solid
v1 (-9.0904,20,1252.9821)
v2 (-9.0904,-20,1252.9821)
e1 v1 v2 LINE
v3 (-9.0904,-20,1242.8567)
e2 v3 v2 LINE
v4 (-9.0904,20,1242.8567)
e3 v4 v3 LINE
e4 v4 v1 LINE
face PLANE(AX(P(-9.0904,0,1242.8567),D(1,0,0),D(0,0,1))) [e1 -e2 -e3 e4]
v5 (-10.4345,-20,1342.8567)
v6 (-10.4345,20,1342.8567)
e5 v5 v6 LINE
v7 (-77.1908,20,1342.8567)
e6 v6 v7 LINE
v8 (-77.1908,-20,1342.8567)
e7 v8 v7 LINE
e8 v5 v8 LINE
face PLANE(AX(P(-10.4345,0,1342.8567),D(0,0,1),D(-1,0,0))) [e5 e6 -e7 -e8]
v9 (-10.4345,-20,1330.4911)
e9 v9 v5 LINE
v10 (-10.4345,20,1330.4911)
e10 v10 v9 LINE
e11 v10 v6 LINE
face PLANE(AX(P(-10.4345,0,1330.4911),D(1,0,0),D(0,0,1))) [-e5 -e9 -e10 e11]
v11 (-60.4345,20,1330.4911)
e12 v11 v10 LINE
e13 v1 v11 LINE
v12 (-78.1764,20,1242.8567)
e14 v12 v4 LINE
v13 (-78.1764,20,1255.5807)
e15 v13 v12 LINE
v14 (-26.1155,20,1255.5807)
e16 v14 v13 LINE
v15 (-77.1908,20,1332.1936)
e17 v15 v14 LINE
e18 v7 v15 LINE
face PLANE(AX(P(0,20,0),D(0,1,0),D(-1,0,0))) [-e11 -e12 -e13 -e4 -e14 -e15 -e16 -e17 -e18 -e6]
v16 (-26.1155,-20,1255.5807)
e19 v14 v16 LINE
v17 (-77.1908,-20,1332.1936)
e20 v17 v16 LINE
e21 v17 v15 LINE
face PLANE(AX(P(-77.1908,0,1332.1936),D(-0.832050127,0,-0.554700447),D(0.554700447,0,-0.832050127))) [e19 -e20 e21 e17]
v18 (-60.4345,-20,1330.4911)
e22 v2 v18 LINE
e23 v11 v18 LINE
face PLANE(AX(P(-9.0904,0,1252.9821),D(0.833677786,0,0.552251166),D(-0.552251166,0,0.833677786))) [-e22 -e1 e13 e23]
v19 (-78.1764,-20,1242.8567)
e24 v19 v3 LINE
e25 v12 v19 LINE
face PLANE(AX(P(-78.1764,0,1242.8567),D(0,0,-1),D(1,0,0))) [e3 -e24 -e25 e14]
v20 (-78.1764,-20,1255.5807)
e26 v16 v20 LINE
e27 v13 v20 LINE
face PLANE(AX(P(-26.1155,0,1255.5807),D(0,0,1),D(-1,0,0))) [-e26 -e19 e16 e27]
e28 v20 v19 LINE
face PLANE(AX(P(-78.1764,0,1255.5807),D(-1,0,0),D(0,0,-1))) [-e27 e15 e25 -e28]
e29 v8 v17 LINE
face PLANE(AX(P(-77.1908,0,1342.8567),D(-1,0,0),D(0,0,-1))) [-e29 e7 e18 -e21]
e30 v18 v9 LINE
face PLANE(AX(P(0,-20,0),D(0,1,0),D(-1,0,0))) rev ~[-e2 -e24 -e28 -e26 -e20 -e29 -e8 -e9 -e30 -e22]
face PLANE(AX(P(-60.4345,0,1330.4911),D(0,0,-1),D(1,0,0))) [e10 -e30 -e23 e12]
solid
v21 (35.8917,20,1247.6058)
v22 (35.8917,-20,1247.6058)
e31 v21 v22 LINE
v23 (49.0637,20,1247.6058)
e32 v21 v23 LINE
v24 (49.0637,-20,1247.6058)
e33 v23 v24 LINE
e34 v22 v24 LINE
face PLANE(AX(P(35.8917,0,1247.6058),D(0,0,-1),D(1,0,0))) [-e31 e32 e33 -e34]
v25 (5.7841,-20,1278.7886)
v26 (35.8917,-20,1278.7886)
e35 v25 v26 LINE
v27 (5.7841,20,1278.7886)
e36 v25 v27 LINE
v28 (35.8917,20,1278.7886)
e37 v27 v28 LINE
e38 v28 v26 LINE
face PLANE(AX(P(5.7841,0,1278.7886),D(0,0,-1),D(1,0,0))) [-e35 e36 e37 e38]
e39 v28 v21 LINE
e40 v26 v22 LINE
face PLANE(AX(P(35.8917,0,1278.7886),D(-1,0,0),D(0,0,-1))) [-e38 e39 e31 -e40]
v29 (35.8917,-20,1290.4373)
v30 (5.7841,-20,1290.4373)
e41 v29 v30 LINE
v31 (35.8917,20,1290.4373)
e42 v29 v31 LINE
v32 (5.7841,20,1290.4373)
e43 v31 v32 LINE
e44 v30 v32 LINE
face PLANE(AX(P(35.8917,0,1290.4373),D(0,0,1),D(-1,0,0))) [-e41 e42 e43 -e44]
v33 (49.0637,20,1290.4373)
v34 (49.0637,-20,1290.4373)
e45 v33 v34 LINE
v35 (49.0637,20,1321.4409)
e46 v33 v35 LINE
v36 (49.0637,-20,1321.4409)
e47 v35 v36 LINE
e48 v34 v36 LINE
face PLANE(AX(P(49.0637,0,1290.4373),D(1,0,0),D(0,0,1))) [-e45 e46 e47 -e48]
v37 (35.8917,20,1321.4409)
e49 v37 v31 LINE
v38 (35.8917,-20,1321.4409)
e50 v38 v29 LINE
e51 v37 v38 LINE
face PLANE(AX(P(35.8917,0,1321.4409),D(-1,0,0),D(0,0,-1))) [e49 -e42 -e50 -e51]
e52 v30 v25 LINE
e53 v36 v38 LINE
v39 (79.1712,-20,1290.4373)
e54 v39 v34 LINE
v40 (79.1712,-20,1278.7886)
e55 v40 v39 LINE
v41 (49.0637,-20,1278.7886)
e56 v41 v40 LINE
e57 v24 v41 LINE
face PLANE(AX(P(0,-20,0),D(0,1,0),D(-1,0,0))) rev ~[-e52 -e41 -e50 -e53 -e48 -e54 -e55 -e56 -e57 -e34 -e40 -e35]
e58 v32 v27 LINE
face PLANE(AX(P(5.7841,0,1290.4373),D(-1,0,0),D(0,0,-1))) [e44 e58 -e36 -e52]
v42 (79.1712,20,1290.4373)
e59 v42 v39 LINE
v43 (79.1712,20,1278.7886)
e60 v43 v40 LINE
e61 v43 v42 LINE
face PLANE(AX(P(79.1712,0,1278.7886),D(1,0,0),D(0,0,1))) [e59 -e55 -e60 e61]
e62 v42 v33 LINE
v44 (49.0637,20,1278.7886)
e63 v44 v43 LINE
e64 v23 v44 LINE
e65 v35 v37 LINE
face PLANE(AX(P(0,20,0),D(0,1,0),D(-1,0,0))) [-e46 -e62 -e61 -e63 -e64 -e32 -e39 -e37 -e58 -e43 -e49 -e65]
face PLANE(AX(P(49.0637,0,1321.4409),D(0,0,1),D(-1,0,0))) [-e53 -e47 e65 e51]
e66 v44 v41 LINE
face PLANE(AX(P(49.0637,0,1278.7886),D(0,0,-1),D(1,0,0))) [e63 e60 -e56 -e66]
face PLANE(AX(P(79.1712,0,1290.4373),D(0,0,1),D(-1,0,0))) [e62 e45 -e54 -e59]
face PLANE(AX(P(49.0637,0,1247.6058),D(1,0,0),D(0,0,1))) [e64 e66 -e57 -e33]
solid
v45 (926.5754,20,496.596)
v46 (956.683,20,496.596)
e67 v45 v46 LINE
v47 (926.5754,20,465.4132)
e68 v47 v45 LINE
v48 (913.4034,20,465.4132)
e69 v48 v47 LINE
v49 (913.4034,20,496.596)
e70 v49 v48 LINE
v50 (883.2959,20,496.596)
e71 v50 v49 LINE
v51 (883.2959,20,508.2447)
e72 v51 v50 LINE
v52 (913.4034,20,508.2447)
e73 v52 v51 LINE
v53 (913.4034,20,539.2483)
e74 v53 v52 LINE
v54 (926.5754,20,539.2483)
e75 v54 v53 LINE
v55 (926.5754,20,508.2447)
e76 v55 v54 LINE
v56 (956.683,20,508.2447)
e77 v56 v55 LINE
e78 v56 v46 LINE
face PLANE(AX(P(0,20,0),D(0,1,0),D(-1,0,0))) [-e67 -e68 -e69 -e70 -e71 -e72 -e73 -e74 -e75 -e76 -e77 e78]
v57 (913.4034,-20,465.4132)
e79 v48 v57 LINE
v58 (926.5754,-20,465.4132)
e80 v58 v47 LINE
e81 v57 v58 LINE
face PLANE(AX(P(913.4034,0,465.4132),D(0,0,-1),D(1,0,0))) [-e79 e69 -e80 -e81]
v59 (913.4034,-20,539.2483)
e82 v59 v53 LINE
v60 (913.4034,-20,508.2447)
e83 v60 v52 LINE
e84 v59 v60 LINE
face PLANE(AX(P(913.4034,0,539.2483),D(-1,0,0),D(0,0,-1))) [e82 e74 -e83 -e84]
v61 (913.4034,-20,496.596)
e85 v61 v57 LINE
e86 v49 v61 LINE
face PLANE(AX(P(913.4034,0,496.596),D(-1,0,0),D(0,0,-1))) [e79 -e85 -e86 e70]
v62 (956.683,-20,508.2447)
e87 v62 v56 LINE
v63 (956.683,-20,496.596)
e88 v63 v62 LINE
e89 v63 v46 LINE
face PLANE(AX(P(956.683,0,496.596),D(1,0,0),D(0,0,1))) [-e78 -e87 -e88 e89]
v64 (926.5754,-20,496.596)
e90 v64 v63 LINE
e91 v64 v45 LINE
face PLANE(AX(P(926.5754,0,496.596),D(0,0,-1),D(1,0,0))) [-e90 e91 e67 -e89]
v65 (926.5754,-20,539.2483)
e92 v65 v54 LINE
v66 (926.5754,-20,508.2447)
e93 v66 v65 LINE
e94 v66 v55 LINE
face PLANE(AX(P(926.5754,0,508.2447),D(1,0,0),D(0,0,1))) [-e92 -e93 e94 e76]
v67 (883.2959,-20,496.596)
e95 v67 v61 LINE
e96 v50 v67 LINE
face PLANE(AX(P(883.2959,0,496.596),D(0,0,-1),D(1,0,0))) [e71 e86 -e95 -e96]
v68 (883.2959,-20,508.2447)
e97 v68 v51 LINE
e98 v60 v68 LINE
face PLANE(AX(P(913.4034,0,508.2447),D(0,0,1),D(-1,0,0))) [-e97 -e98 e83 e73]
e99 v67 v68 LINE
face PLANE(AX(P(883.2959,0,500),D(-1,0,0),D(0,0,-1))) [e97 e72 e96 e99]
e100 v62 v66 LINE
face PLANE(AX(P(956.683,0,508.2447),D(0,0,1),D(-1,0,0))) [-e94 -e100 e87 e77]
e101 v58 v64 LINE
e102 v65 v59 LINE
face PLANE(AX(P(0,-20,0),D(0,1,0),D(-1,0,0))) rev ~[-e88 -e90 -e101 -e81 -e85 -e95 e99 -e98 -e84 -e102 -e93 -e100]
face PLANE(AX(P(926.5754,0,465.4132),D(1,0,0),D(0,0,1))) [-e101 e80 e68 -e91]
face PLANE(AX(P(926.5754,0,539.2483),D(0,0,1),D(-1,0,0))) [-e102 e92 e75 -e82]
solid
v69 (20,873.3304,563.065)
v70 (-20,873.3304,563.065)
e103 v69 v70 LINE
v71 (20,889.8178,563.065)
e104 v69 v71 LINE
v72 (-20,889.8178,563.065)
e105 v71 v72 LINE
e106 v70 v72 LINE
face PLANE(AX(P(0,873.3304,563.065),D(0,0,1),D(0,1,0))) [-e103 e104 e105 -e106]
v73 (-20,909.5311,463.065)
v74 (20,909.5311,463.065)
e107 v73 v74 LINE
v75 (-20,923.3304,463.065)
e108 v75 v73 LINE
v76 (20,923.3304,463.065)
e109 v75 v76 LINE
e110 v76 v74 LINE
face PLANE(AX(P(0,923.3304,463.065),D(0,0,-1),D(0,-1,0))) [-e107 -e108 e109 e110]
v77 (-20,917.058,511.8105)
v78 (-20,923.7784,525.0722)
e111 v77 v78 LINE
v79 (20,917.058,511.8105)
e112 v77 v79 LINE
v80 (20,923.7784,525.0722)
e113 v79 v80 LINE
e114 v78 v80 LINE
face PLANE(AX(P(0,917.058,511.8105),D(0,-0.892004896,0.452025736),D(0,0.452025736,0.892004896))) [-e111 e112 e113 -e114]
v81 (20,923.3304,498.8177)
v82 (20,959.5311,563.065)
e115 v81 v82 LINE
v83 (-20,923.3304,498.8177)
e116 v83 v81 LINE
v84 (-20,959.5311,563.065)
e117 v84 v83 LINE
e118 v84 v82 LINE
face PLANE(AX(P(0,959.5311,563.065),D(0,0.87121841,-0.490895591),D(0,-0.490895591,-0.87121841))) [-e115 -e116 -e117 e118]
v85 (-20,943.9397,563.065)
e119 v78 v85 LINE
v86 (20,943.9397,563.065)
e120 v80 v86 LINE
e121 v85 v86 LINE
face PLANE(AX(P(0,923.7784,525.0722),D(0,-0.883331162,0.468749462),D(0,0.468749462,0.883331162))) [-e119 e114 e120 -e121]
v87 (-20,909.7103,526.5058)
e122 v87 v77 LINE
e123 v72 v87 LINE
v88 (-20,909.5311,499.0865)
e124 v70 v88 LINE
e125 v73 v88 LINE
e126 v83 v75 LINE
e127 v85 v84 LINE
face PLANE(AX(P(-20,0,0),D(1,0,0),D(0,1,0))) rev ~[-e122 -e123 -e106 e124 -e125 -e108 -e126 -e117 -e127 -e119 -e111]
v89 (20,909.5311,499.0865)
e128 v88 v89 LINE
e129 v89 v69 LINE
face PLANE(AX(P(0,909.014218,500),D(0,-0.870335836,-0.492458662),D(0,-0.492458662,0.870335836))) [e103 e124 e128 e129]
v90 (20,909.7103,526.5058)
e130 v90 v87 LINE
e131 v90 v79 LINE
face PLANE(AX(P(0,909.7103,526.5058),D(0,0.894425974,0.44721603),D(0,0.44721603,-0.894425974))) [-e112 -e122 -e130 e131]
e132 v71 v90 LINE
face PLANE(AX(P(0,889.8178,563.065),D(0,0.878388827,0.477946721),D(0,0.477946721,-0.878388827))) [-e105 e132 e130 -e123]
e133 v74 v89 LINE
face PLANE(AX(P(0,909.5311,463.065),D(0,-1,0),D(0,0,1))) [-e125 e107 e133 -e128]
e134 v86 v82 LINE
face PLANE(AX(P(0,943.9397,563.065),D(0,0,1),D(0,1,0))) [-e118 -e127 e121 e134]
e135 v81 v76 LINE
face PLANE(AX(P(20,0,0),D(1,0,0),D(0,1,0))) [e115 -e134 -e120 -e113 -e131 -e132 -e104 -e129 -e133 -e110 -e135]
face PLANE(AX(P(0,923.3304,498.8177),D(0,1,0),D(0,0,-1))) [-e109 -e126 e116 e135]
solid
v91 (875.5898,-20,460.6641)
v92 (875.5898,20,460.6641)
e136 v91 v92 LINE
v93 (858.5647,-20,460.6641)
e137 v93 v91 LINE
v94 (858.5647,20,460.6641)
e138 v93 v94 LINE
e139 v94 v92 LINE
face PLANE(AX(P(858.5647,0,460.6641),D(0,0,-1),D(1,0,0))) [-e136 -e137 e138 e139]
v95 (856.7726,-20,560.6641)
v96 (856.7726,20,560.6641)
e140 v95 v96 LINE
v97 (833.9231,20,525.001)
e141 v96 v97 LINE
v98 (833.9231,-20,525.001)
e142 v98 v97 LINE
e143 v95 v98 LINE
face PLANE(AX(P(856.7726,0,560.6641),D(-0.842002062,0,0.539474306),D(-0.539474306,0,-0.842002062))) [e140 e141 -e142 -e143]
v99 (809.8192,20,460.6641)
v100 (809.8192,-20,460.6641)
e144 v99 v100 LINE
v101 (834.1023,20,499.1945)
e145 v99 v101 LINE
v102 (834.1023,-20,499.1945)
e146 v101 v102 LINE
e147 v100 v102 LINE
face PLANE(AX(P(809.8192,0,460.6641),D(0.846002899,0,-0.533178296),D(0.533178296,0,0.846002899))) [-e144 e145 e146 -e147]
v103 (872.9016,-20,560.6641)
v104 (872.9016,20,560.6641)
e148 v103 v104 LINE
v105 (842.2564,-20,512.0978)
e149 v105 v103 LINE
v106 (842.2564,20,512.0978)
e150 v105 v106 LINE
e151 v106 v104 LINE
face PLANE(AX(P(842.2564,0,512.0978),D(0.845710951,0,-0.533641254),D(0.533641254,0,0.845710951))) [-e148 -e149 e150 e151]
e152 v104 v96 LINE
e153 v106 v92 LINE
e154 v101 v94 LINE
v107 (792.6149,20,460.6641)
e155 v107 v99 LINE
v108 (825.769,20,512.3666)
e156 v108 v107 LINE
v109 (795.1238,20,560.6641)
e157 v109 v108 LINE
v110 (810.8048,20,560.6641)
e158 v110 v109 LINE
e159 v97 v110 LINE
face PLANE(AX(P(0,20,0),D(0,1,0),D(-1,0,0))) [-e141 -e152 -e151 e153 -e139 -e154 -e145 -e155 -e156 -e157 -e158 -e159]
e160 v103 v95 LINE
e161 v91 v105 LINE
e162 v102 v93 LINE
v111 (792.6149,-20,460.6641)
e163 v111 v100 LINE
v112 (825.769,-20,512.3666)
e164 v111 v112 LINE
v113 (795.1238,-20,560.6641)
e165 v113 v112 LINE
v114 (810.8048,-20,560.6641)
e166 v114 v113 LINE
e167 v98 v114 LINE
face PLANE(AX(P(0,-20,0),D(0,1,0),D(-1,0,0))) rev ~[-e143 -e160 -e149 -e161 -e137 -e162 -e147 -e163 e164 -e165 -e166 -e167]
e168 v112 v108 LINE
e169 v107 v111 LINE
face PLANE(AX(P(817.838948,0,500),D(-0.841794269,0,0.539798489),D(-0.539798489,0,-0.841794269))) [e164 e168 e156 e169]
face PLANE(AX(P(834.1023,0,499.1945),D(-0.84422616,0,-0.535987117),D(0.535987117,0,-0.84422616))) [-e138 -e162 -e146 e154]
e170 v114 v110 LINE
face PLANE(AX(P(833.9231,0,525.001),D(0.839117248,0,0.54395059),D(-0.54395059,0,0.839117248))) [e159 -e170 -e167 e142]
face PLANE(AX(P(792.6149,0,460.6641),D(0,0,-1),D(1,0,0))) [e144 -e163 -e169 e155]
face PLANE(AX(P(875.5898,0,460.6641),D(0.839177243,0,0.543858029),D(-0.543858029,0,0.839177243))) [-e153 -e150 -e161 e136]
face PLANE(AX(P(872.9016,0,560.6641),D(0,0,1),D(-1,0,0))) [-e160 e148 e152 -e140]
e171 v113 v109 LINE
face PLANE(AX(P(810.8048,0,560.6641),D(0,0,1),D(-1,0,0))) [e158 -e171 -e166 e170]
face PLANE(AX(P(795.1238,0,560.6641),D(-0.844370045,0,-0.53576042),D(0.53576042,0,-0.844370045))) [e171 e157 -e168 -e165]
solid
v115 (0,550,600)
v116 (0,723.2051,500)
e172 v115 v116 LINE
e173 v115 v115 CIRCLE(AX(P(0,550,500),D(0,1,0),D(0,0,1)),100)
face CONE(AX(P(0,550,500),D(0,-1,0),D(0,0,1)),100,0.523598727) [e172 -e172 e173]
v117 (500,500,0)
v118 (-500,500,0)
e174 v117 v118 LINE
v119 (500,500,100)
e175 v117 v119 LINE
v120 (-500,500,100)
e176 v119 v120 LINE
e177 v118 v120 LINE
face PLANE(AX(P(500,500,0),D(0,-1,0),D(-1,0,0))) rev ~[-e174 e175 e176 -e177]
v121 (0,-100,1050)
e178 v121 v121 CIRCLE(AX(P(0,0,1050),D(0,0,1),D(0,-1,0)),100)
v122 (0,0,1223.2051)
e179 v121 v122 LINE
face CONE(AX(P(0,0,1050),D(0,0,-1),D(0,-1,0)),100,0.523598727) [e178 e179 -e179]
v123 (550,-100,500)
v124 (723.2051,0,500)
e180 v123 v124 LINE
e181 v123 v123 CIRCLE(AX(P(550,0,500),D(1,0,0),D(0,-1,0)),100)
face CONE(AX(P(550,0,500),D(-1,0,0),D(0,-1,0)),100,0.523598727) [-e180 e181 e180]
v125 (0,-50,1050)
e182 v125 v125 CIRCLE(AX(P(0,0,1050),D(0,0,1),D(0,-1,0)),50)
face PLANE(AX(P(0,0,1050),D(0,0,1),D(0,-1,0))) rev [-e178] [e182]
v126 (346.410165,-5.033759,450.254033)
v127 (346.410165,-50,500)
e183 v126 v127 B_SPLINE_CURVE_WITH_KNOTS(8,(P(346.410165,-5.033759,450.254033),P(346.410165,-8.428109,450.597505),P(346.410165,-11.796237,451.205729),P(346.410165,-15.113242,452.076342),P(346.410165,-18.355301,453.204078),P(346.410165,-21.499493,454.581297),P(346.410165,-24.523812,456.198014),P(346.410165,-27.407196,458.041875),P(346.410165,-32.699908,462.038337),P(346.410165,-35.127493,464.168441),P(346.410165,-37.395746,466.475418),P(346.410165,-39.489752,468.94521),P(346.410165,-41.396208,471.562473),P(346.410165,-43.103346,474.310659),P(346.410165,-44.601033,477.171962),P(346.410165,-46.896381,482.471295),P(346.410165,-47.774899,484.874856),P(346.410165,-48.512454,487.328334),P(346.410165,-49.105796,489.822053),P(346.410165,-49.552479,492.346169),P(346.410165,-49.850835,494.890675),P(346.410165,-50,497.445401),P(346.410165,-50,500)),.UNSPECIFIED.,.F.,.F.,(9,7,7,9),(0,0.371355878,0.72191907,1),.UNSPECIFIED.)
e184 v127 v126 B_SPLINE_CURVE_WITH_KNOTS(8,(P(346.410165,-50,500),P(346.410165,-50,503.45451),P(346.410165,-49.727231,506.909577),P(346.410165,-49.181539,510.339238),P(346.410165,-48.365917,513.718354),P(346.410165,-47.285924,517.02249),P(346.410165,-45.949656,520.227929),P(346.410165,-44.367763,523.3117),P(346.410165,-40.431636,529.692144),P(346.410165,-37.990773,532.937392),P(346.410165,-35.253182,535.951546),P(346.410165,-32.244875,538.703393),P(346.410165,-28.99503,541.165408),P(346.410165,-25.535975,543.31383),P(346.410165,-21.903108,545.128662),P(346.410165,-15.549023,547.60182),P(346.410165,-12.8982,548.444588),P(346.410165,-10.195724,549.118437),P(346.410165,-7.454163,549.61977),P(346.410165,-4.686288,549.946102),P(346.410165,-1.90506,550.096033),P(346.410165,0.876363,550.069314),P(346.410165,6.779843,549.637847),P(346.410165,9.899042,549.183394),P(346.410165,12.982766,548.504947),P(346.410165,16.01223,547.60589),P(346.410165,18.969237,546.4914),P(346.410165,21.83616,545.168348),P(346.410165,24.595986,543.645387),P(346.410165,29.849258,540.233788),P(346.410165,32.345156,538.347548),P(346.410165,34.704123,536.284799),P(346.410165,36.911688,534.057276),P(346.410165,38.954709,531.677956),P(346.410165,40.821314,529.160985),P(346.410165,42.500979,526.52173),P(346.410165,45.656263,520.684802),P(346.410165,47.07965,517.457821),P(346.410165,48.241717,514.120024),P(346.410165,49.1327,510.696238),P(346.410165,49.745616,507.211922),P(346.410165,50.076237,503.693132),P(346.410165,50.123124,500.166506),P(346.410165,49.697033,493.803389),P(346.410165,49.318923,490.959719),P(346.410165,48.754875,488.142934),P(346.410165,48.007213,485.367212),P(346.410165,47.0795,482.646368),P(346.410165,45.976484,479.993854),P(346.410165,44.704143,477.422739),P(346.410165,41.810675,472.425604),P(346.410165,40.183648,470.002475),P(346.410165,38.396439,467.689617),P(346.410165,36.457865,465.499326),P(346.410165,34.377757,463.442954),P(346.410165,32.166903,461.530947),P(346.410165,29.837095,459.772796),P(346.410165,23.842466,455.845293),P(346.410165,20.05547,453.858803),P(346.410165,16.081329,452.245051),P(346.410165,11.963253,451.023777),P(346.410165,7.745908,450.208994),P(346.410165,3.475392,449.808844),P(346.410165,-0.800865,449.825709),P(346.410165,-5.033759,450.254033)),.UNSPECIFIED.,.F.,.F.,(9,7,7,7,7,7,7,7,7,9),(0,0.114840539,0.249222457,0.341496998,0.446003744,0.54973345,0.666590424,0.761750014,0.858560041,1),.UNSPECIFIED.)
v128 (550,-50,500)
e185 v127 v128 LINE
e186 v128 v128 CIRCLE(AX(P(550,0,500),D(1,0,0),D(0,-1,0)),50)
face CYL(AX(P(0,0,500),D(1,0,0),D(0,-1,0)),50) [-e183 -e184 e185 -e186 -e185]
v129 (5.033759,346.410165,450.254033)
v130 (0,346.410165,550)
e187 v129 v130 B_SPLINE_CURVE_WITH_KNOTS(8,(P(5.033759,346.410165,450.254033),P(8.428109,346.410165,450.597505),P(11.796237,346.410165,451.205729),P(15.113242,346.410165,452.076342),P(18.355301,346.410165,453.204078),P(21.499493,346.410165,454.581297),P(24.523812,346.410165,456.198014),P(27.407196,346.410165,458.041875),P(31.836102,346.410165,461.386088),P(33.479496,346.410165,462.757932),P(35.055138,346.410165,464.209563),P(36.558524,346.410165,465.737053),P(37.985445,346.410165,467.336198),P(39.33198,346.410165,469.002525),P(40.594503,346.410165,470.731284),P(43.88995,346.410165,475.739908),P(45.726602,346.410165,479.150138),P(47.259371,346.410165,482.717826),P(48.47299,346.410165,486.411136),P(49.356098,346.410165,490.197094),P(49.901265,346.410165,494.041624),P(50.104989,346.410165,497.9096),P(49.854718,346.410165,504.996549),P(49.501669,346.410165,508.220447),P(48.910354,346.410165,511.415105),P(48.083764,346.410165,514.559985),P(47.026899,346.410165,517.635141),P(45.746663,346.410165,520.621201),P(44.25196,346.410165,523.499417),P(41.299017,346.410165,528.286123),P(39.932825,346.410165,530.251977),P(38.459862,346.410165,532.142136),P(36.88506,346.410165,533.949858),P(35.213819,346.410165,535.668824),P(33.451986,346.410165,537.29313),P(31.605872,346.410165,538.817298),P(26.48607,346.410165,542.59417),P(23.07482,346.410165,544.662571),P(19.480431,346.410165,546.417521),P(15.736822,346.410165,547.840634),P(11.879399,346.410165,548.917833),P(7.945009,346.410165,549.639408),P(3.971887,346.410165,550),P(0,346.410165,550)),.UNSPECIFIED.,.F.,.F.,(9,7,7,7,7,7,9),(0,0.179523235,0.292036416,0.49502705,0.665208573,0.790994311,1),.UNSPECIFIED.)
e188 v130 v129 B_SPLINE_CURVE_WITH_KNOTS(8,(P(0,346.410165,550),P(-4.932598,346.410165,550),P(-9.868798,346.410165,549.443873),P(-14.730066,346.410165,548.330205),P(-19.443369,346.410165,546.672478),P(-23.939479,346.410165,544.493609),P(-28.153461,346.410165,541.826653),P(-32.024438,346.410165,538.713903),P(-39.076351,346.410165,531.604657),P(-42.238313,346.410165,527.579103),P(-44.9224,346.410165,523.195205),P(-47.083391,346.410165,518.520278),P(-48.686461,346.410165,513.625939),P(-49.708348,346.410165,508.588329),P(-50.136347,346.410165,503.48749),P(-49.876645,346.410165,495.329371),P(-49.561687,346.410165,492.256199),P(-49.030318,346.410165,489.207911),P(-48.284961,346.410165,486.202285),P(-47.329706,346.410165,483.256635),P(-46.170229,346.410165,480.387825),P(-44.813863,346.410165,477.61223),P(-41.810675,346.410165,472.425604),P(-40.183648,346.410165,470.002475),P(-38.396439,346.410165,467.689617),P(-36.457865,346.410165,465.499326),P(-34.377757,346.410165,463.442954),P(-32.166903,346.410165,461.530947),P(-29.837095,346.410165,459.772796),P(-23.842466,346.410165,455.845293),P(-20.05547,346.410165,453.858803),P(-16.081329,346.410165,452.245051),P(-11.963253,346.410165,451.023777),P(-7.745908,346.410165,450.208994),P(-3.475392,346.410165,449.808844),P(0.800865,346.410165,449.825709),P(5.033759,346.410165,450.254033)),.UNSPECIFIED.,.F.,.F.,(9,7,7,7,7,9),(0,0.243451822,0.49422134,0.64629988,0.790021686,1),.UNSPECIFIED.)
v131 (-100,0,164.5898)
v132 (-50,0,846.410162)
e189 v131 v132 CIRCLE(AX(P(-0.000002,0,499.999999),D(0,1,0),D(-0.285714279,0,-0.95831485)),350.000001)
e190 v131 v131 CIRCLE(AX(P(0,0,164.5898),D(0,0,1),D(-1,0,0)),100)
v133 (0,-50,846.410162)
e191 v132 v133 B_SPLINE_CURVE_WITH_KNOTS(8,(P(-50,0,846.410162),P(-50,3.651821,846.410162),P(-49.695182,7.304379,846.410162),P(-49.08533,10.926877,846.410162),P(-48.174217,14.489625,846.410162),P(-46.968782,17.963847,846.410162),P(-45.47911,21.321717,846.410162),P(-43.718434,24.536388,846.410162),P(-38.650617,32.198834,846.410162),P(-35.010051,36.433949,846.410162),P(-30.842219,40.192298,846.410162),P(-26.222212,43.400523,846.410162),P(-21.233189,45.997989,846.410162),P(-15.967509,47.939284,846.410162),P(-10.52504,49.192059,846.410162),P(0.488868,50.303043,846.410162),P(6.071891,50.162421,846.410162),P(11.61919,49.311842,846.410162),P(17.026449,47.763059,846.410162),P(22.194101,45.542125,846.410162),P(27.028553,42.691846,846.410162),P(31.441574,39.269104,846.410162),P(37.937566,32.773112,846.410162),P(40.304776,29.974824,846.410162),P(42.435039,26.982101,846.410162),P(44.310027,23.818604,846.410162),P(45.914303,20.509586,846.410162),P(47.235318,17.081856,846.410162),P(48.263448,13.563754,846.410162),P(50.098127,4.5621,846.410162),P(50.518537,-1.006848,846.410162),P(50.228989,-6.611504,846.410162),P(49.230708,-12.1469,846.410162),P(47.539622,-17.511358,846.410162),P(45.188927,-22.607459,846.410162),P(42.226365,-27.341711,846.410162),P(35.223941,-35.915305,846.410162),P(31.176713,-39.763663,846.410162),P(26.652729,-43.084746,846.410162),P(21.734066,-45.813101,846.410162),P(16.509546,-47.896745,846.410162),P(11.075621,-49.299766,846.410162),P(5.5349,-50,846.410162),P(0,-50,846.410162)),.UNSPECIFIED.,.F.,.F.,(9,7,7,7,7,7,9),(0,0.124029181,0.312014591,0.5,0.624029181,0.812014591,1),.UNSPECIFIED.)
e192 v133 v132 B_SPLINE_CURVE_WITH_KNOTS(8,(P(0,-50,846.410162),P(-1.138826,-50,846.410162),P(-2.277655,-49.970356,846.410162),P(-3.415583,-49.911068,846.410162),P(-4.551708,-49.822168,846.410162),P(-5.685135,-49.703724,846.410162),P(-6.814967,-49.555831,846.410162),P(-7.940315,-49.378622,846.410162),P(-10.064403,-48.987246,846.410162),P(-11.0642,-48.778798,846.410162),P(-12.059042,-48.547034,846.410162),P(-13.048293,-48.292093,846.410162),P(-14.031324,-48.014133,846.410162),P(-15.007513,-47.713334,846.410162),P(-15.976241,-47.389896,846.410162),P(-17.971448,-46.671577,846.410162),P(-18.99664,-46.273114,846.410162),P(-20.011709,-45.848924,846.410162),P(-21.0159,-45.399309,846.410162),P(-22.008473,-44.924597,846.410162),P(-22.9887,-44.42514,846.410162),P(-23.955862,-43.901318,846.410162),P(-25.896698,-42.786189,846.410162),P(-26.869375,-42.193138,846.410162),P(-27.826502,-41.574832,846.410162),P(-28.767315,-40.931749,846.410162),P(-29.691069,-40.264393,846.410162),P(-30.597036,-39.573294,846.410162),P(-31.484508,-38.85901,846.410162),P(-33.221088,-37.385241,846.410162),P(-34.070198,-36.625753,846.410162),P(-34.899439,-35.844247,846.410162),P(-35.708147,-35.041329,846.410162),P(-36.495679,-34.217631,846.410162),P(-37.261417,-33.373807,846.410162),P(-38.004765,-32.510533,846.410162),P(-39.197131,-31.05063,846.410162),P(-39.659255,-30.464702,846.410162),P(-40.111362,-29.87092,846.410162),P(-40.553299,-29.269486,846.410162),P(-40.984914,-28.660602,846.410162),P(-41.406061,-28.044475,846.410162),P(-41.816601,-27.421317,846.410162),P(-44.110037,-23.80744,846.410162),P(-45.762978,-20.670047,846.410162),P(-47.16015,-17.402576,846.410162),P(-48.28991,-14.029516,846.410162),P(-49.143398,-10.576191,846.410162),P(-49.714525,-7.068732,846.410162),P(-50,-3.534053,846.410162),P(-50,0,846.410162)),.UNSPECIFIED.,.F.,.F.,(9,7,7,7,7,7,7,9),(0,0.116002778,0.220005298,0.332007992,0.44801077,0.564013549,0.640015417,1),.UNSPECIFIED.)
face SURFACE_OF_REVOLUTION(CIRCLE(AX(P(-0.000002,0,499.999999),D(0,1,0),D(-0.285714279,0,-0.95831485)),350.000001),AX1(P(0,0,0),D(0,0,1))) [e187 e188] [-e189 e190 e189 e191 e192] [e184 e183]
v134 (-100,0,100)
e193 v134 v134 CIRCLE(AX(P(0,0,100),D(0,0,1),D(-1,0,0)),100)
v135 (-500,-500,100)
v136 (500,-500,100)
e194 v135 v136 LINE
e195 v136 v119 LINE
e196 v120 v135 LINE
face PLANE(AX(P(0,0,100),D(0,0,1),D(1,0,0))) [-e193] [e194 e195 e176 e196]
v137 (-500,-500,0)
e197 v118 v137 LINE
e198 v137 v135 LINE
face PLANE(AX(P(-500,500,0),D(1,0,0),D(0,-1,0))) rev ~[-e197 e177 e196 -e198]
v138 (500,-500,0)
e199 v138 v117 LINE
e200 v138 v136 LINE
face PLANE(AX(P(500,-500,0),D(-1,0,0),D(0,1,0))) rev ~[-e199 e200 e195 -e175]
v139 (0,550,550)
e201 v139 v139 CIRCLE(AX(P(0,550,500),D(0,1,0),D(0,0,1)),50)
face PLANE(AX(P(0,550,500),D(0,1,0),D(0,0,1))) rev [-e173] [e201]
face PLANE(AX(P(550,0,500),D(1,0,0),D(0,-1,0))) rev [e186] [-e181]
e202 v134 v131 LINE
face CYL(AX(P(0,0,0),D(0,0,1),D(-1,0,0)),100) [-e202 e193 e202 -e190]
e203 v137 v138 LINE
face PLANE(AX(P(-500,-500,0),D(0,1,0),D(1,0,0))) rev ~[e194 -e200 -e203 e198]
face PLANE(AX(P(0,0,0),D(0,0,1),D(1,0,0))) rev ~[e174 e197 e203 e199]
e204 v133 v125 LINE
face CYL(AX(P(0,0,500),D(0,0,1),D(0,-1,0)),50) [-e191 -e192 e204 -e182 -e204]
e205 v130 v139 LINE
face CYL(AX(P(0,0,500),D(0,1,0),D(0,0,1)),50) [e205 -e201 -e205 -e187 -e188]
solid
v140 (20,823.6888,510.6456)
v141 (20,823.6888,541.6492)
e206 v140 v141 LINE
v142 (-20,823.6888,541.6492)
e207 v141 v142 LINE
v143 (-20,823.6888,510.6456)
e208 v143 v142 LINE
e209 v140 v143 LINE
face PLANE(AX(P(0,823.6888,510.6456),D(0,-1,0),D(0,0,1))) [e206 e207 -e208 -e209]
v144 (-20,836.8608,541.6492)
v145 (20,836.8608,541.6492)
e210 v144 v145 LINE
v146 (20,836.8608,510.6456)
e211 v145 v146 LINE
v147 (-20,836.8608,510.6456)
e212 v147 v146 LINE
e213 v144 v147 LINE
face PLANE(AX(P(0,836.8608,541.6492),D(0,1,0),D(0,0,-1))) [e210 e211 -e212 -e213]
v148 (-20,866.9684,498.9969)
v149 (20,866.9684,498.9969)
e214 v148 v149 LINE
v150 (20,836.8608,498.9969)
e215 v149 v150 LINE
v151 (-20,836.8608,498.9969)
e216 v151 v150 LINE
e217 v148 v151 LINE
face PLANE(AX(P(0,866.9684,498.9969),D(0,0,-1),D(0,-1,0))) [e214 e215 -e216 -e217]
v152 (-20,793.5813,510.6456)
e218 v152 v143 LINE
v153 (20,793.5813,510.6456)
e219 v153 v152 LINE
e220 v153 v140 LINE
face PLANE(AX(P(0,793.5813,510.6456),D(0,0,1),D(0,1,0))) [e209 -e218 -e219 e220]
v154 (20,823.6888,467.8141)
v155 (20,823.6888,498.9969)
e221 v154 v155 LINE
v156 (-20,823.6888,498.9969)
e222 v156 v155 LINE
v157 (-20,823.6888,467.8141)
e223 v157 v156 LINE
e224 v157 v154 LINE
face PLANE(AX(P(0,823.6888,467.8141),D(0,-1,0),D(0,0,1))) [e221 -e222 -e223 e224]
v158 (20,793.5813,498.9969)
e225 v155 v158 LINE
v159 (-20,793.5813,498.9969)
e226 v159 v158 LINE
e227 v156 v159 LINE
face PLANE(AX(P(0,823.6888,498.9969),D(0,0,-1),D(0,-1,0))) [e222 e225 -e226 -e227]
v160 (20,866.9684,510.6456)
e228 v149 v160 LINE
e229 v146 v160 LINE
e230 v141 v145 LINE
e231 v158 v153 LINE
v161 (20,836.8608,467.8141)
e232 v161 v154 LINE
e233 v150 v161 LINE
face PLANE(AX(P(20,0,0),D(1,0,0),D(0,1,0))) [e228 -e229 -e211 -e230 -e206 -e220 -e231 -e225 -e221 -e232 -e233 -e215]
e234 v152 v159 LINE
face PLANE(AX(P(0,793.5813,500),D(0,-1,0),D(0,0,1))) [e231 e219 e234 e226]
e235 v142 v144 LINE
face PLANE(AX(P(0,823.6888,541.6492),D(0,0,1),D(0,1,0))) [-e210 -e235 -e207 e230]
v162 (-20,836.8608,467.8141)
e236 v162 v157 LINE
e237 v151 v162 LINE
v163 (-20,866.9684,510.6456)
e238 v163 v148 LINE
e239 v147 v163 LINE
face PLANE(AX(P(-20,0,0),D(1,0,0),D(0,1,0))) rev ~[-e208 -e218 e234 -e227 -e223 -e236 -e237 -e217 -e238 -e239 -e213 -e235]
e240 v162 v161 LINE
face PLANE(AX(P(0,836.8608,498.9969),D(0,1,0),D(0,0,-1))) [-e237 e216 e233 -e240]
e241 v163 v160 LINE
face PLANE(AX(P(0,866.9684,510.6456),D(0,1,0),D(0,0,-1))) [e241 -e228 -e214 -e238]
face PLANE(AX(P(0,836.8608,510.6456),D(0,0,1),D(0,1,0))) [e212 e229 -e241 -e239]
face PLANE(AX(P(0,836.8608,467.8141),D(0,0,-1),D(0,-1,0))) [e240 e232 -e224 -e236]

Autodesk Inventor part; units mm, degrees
ref_plane "YZ Plane" through (0, 0, 0) normal (1, 0, 0) x (0, 1, 0)
ref_plane "XZ Plane" through (0, 0, 0) normal (0, 1, 0) x (-1, 0, 0)
ref_plane "XY Plane" through (0, 0, 0) normal (0, 0, 1) x (1, 0, 0)
sketch "Sketch1" plane through (0, 0, 0) normal (0, 0, 1) x (1, 0, 0)
  line L0 (-500, -500) -> (500, -500)
  line L1 (500, -500) -> (500, 500)
  line L2 (500, 500) -> (-500, 500)
  line L3 (-500, 500) -> (-500, -500)
  line L4 (-500, -500) -> (500, 500) construction
  line L5 (500, -500) -> (-500, 500) construction
  point P0 (0, 0)
  dimension "d0" = 1000
  dimension "d1" = 1000
extrude "Extrusion1" add sketch "Sketch1" along normal blind 100
sketch "Sketch2" plane through (0, 0, 0) normal (0, 1, 0) x (-1, 0, 0)
  line L0 (0, 0) -> (0, 500)
  line L1 (0, 0) -> (100, 0)
  line L2 (100, 0) -> (100, 164.5898)
  line L3 (0, 500) -> (0, 850)
  arc A0 (100, 164.5898) -> (0, 850) centre (0, 500) ccw
  dimension "d4" = 500
  dimension "d5" = 100
  dimension "d6" = 350
revolve "Revolution1" add sketch "Sketch2" angle 360 about axis through (0, 0, 0) along (0, 0, 1)
sketch "Sketch3" plane through (0, 0, 0) normal (1, 0, 0) x (0, 1, 0)
  line L0 (0, -170) -> (0, 1020) projected
  line L1 (0, 500) -> (-50, 500)
  line L2 (-50, 500) -> (-50, 1050)
  line L3 (-50, 1050) -> (-100, 1050)
  line L4 (-100, 1050) -> (0, 1223.2051)
  line L5 (0, 500) -> (0, 1223.2051)
  point P0 (0, 0)
  dimension "d8" = 500
  dimension "d9" = 50
  dimension "d10" = 550
  dimension "d11" = 30
  dimension "d12" = 50
revolve "Revolution2" add sketch "Sketch3" angle 360 about axis through (0, 0, -10) along (0, 0, 1)
ref_plane "Work Plane1" through (0, 0, 500) normal (0, 0, -1) x (-1, 0, 0)
pattern_circular "Circular Pattern1" count 2 over 90 about axis through (0, 0, 500) along (0, 1, 0) of "Revolution2"
pattern_circular "Circular Pattern2" count 2 over 90 about axis through (0, 0, 500) along (-1, 0, 0) of "Revolution2"
sketch "Sketch4" plane through (0, 0, 0) normal (0, 1, 0) x (-1, 0, 0)
  circle A0 centre (0, 500) radius 50 projected
  line L0 (-346.4102, 450) -> (-346.4102, 550) projected
  line L1 (-50, 846.4102) -> (50, 846.4102) projected
  line L2 (-100, 164.5898) -> (100, 164.5898) projected
  line L3 (-550, 600) -> (-550, 400) projected
  line L4 (50, 1050) -> (-50, 1050) projected
  line L5 (-50, 846.4102) -> (50, 846.4102) projected
  line L6 (744.641, 500) -> (-967.8461, 500) projected
  line L7 (0, -244.641) -> (0, 1467.8461) projected
  line L8 (-963.1346, 560.6641) -> (-790.7331, 560.6641) construction
  line L9 (-790.7331, 560.6641) -> (-790.7331, 460.6641) construction
  line L10 (-790.7331, 460.6641) -> (-963.1346, 460.6641) construction
  line L11 (-963.1346, 460.6641) -> (-963.1346, 560.6641) construction
  line L12 (-85.6228, 1342.8567) -> (86.7786, 1342.8567) construction
  line L13 (86.7786, 1342.8567) -> (86.7786, 1242.8567) construction
  line L14 (86.7786, 1242.8567) -> (-85.6228, 1242.8567) construction
  line L15 (-85.6228, 1242.8567) -> (-85.6228, 1342.8567) construction
  line L16 (-5.7841, 1278.7886) -> (-35.8917, 1278.7886)
  line L17 (-35.8917, 1278.7886) -> (-35.8917, 1247.6058)
  line L18 (-35.8917, 1247.6058) -> (-49.0637, 1247.6058)
  line L19 (-49.0637, 1247.6058) -> (-49.0637, 1278.7886)
  line L20 (-49.0637, 1278.7886) -> (-79.1712, 1278.7886)
  line L21 (-79.1712, 1278.7886) -> (-79.1712, 1290.4373)
  line L22 (-79.1712, 1290.4373) -> (-49.0637, 1290.4373)
  line L23 (-49.0637, 1290.4373) -> (-49.0637, 1321.4409)
  line L24 (-49.0637, 1321.4409) -> (-35.8917, 1321.4409)
  line L25 (-35.8917, 1321.4409) -> (-35.8917, 1290.4373)
  line L26 (-35.8917, 1290.4373) -> (-5.7841, 1290.4373)
  line L27 (-5.7841, 1290.4373) -> (-5.7841, 1278.7886)
  line L28 (77.1908, 1332.1936) -> (26.1155, 1255.5807)
  line L29 (26.1155, 1255.5807) -> (78.1764, 1255.5807)
  line L30 (78.1764, 1255.5807) -> (78.1764, 1242.8567)
  line L31 (78.1764, 1242.8567) -> (9.0904, 1242.8567)
  line L32 (9.0904, 1242.8567) -> (9.0904, 1252.9821)
  line L33 (9.0904, 1252.9821) -> (60.4345, 1330.4911)
  line L34 (60.4345, 1330.4911) -> (10.4345, 1330.4911)
  line L35 (10.4345, 1330.4911) -> (10.4345, 1342.8567)
  line L36 (10.4345, 1342.8567) -> (77.1908, 1342.8567)
  line L37 (77.1908, 1342.8567) -> (77.1908, 1332.1936)
  line L38 (-883.2959, 496.596) -> (-913.4034, 496.596)
  line L39 (-913.4034, 496.596) -> (-913.4034, 465.4132)
  line L40 (-913.4034, 465.4132) -> (-926.5754, 465.4132)
  line L41 (-926.5754, 465.4132) -> (-926.5754, 496.596)
  line L42 (-926.5754, 496.596) -> (-956.683, 496.596)
  line L43 (-956.683, 496.596) -> (-956.683, 508.2447)
  line L44 (-956.683, 508.2447) -> (-926.5754, 508.2447)
  line L45 (-926.5754, 508.2447) -> (-926.5754, 539.2483)
  line L46 (-926.5754, 539.2483) -> (-913.4034, 539.2483)
  line L47 (-913.4034, 539.2483) -> (-913.4034, 508.2447)
  line L48 (-913.4034, 508.2447) -> (-883.2959, 508.2447)
  line L49 (-883.2959, 508.2447) -> (-883.2959, 496.596)
  line L50 (-792.6149, 460.6641) -> (-809.8192, 460.6641)
  line L51 (-809.8192, 460.6641) -> (-834.1023, 499.1945)
  line L52 (-834.1023, 499.1945) -> (-858.5647, 460.6641)
  line L53 (-858.5647, 460.6641) -> (-875.5898, 460.6641)
  line L54 (-875.5898, 460.6641) -> (-842.2564, 512.0978)
  line L55 (-842.2564, 512.0978) -> (-872.9016, 560.6641)
  line L56 (-872.9016, 560.6641) -> (-856.7726, 560.6641)
  line L57 (-856.7726, 560.6641) -> (-833.9231, 525.001)
  line L58 (-833.9231, 525.001) -> (-810.8048, 560.6641)
  line L59 (-810.8048, 560.6641) -> (-795.1238, 560.6641)
  line L60 (-795.1238, 560.6641) -> (-825.769, 512.3666)
  line L61 (-825.769, 512.3666) -> (-792.6149, 460.6641)
  point P0 (0, 0)
  point P1 (-723.2051, 500)
extrude "Extrusion2" add sketch "Sketch4" along normal mid plane 40 contours L49 L38 L39 L40 L41 L42 L43 L6 | L6 L43 L44 L45 L46 L47 L48 L49 | L61 L50 L51 L52 L53 L54 L6 | L6 L54 L55 L56 L57 L58 L59 L60 L61 | L16 L17 L18 L19 L20 L21 L22 L23 L24 L25 L26 L27 | L28 L29 L30 L31 L32 L33 L34 L35 L36 L37
sketch "Sketch5" plane through (0, 0, 0) normal (1, 0, 0) x (0, 1, 0)
  line L0 (346.4102, 550) -> (346.4102, 450) projected
  circle A0 centre (0, 500) radius 50 projected
  line L1 (-50, 846.4102) -> (50, 846.4102) projected
  line L2 (-100, 164.5898) -> (100, 164.5898) projected
  line L3 (550, 400) -> (550, 600) projected
  line L4 (100, 1050) -> (-100, 1050) projected
  line L5 (0, -268.5713) -> (0, 1611.428) projected
  line L6 (-744.641, 500) -> (967.8461, 500) projected
  line L7 (787.1297, 563.065) -> (959.5311, 563.065) construction
  line L8 (959.5311, 563.065) -> (959.5311, 463.065) construction
  line L9 (959.5311, 463.065) -> (787.1297, 463.065) construction
  line L10 (787.1297, 463.065) -> (787.1297, 563.065) construction
  line L11 (866.9684, 498.9969) -> (836.8608, 498.9969)
  line L12 (836.8608, 498.9969) -> (836.8608, 467.8141)
  line L13 (836.8608, 467.8141) -> (823.6888, 467.8141)
  line L14 (823.6888, 467.8141) -> (823.6888, 498.9969)
  line L15 (823.6888, 498.9969) -> (793.5813, 498.9969)
  line L16 (793.5813, 498.9969) -> (793.5813, 510.6456)
  line L17 (793.5813, 510.6456) -> (823.6888, 510.6456)
  line L18 (823.6888, 510.6456) -> (823.6888, 541.6492)
  line L19 (823.6888, 541.6492) -> (836.8608, 541.6492)
  line L20 (836.8608, 541.6492) -> (836.8608, 510.6456)
  line L21 (836.8608, 510.6456) -> (866.9684, 510.6456)
  line L22 (866.9684, 510.6456) -> (866.9684, 498.9969)
  line L23 (959.5311, 563.065) -> (923.3304, 498.8177)
  line L24 (923.3304, 498.8177) -> (923.3304, 463.065)
  line L25 (923.3304, 463.065) -> (909.5311, 463.065)
  line L26 (909.5311, 463.065) -> (909.5311, 499.0865)
  line L27 (909.5311, 499.0865) -> (873.3304, 563.065)
  line L28 (873.3304, 563.065) -> (889.8178, 563.065)
  line L29 (889.8178, 563.065) -> (909.7103, 526.5058)
  line L30 (909.7103, 526.5058) -> (917.058, 511.8105)
  line L31 (917.058, 511.8105) -> (923.7784, 525.0722)
  line L32 (923.7784, 525.0722) -> (943.9397, 563.065)
  line L33 (943.9397, 563.065) -> (959.5311, 563.065)
  point P0 (0, 0)
  point P1 (723.2051, 500)
  point P2 (0, 1223.2051)
extrude "Extrusion3" add sketch "Sketch5" along normal mid plane 40 contours L27 L28 L29 L30 L31 L32 L33 L23 L6 | L6 L23 L24 L25 L26 L27 | L16 L17 L18 L19 L20 L21 L22 L6 | L6 L22 L11 L12 L13 L14 L15 L16
properties part number "center-piece"
